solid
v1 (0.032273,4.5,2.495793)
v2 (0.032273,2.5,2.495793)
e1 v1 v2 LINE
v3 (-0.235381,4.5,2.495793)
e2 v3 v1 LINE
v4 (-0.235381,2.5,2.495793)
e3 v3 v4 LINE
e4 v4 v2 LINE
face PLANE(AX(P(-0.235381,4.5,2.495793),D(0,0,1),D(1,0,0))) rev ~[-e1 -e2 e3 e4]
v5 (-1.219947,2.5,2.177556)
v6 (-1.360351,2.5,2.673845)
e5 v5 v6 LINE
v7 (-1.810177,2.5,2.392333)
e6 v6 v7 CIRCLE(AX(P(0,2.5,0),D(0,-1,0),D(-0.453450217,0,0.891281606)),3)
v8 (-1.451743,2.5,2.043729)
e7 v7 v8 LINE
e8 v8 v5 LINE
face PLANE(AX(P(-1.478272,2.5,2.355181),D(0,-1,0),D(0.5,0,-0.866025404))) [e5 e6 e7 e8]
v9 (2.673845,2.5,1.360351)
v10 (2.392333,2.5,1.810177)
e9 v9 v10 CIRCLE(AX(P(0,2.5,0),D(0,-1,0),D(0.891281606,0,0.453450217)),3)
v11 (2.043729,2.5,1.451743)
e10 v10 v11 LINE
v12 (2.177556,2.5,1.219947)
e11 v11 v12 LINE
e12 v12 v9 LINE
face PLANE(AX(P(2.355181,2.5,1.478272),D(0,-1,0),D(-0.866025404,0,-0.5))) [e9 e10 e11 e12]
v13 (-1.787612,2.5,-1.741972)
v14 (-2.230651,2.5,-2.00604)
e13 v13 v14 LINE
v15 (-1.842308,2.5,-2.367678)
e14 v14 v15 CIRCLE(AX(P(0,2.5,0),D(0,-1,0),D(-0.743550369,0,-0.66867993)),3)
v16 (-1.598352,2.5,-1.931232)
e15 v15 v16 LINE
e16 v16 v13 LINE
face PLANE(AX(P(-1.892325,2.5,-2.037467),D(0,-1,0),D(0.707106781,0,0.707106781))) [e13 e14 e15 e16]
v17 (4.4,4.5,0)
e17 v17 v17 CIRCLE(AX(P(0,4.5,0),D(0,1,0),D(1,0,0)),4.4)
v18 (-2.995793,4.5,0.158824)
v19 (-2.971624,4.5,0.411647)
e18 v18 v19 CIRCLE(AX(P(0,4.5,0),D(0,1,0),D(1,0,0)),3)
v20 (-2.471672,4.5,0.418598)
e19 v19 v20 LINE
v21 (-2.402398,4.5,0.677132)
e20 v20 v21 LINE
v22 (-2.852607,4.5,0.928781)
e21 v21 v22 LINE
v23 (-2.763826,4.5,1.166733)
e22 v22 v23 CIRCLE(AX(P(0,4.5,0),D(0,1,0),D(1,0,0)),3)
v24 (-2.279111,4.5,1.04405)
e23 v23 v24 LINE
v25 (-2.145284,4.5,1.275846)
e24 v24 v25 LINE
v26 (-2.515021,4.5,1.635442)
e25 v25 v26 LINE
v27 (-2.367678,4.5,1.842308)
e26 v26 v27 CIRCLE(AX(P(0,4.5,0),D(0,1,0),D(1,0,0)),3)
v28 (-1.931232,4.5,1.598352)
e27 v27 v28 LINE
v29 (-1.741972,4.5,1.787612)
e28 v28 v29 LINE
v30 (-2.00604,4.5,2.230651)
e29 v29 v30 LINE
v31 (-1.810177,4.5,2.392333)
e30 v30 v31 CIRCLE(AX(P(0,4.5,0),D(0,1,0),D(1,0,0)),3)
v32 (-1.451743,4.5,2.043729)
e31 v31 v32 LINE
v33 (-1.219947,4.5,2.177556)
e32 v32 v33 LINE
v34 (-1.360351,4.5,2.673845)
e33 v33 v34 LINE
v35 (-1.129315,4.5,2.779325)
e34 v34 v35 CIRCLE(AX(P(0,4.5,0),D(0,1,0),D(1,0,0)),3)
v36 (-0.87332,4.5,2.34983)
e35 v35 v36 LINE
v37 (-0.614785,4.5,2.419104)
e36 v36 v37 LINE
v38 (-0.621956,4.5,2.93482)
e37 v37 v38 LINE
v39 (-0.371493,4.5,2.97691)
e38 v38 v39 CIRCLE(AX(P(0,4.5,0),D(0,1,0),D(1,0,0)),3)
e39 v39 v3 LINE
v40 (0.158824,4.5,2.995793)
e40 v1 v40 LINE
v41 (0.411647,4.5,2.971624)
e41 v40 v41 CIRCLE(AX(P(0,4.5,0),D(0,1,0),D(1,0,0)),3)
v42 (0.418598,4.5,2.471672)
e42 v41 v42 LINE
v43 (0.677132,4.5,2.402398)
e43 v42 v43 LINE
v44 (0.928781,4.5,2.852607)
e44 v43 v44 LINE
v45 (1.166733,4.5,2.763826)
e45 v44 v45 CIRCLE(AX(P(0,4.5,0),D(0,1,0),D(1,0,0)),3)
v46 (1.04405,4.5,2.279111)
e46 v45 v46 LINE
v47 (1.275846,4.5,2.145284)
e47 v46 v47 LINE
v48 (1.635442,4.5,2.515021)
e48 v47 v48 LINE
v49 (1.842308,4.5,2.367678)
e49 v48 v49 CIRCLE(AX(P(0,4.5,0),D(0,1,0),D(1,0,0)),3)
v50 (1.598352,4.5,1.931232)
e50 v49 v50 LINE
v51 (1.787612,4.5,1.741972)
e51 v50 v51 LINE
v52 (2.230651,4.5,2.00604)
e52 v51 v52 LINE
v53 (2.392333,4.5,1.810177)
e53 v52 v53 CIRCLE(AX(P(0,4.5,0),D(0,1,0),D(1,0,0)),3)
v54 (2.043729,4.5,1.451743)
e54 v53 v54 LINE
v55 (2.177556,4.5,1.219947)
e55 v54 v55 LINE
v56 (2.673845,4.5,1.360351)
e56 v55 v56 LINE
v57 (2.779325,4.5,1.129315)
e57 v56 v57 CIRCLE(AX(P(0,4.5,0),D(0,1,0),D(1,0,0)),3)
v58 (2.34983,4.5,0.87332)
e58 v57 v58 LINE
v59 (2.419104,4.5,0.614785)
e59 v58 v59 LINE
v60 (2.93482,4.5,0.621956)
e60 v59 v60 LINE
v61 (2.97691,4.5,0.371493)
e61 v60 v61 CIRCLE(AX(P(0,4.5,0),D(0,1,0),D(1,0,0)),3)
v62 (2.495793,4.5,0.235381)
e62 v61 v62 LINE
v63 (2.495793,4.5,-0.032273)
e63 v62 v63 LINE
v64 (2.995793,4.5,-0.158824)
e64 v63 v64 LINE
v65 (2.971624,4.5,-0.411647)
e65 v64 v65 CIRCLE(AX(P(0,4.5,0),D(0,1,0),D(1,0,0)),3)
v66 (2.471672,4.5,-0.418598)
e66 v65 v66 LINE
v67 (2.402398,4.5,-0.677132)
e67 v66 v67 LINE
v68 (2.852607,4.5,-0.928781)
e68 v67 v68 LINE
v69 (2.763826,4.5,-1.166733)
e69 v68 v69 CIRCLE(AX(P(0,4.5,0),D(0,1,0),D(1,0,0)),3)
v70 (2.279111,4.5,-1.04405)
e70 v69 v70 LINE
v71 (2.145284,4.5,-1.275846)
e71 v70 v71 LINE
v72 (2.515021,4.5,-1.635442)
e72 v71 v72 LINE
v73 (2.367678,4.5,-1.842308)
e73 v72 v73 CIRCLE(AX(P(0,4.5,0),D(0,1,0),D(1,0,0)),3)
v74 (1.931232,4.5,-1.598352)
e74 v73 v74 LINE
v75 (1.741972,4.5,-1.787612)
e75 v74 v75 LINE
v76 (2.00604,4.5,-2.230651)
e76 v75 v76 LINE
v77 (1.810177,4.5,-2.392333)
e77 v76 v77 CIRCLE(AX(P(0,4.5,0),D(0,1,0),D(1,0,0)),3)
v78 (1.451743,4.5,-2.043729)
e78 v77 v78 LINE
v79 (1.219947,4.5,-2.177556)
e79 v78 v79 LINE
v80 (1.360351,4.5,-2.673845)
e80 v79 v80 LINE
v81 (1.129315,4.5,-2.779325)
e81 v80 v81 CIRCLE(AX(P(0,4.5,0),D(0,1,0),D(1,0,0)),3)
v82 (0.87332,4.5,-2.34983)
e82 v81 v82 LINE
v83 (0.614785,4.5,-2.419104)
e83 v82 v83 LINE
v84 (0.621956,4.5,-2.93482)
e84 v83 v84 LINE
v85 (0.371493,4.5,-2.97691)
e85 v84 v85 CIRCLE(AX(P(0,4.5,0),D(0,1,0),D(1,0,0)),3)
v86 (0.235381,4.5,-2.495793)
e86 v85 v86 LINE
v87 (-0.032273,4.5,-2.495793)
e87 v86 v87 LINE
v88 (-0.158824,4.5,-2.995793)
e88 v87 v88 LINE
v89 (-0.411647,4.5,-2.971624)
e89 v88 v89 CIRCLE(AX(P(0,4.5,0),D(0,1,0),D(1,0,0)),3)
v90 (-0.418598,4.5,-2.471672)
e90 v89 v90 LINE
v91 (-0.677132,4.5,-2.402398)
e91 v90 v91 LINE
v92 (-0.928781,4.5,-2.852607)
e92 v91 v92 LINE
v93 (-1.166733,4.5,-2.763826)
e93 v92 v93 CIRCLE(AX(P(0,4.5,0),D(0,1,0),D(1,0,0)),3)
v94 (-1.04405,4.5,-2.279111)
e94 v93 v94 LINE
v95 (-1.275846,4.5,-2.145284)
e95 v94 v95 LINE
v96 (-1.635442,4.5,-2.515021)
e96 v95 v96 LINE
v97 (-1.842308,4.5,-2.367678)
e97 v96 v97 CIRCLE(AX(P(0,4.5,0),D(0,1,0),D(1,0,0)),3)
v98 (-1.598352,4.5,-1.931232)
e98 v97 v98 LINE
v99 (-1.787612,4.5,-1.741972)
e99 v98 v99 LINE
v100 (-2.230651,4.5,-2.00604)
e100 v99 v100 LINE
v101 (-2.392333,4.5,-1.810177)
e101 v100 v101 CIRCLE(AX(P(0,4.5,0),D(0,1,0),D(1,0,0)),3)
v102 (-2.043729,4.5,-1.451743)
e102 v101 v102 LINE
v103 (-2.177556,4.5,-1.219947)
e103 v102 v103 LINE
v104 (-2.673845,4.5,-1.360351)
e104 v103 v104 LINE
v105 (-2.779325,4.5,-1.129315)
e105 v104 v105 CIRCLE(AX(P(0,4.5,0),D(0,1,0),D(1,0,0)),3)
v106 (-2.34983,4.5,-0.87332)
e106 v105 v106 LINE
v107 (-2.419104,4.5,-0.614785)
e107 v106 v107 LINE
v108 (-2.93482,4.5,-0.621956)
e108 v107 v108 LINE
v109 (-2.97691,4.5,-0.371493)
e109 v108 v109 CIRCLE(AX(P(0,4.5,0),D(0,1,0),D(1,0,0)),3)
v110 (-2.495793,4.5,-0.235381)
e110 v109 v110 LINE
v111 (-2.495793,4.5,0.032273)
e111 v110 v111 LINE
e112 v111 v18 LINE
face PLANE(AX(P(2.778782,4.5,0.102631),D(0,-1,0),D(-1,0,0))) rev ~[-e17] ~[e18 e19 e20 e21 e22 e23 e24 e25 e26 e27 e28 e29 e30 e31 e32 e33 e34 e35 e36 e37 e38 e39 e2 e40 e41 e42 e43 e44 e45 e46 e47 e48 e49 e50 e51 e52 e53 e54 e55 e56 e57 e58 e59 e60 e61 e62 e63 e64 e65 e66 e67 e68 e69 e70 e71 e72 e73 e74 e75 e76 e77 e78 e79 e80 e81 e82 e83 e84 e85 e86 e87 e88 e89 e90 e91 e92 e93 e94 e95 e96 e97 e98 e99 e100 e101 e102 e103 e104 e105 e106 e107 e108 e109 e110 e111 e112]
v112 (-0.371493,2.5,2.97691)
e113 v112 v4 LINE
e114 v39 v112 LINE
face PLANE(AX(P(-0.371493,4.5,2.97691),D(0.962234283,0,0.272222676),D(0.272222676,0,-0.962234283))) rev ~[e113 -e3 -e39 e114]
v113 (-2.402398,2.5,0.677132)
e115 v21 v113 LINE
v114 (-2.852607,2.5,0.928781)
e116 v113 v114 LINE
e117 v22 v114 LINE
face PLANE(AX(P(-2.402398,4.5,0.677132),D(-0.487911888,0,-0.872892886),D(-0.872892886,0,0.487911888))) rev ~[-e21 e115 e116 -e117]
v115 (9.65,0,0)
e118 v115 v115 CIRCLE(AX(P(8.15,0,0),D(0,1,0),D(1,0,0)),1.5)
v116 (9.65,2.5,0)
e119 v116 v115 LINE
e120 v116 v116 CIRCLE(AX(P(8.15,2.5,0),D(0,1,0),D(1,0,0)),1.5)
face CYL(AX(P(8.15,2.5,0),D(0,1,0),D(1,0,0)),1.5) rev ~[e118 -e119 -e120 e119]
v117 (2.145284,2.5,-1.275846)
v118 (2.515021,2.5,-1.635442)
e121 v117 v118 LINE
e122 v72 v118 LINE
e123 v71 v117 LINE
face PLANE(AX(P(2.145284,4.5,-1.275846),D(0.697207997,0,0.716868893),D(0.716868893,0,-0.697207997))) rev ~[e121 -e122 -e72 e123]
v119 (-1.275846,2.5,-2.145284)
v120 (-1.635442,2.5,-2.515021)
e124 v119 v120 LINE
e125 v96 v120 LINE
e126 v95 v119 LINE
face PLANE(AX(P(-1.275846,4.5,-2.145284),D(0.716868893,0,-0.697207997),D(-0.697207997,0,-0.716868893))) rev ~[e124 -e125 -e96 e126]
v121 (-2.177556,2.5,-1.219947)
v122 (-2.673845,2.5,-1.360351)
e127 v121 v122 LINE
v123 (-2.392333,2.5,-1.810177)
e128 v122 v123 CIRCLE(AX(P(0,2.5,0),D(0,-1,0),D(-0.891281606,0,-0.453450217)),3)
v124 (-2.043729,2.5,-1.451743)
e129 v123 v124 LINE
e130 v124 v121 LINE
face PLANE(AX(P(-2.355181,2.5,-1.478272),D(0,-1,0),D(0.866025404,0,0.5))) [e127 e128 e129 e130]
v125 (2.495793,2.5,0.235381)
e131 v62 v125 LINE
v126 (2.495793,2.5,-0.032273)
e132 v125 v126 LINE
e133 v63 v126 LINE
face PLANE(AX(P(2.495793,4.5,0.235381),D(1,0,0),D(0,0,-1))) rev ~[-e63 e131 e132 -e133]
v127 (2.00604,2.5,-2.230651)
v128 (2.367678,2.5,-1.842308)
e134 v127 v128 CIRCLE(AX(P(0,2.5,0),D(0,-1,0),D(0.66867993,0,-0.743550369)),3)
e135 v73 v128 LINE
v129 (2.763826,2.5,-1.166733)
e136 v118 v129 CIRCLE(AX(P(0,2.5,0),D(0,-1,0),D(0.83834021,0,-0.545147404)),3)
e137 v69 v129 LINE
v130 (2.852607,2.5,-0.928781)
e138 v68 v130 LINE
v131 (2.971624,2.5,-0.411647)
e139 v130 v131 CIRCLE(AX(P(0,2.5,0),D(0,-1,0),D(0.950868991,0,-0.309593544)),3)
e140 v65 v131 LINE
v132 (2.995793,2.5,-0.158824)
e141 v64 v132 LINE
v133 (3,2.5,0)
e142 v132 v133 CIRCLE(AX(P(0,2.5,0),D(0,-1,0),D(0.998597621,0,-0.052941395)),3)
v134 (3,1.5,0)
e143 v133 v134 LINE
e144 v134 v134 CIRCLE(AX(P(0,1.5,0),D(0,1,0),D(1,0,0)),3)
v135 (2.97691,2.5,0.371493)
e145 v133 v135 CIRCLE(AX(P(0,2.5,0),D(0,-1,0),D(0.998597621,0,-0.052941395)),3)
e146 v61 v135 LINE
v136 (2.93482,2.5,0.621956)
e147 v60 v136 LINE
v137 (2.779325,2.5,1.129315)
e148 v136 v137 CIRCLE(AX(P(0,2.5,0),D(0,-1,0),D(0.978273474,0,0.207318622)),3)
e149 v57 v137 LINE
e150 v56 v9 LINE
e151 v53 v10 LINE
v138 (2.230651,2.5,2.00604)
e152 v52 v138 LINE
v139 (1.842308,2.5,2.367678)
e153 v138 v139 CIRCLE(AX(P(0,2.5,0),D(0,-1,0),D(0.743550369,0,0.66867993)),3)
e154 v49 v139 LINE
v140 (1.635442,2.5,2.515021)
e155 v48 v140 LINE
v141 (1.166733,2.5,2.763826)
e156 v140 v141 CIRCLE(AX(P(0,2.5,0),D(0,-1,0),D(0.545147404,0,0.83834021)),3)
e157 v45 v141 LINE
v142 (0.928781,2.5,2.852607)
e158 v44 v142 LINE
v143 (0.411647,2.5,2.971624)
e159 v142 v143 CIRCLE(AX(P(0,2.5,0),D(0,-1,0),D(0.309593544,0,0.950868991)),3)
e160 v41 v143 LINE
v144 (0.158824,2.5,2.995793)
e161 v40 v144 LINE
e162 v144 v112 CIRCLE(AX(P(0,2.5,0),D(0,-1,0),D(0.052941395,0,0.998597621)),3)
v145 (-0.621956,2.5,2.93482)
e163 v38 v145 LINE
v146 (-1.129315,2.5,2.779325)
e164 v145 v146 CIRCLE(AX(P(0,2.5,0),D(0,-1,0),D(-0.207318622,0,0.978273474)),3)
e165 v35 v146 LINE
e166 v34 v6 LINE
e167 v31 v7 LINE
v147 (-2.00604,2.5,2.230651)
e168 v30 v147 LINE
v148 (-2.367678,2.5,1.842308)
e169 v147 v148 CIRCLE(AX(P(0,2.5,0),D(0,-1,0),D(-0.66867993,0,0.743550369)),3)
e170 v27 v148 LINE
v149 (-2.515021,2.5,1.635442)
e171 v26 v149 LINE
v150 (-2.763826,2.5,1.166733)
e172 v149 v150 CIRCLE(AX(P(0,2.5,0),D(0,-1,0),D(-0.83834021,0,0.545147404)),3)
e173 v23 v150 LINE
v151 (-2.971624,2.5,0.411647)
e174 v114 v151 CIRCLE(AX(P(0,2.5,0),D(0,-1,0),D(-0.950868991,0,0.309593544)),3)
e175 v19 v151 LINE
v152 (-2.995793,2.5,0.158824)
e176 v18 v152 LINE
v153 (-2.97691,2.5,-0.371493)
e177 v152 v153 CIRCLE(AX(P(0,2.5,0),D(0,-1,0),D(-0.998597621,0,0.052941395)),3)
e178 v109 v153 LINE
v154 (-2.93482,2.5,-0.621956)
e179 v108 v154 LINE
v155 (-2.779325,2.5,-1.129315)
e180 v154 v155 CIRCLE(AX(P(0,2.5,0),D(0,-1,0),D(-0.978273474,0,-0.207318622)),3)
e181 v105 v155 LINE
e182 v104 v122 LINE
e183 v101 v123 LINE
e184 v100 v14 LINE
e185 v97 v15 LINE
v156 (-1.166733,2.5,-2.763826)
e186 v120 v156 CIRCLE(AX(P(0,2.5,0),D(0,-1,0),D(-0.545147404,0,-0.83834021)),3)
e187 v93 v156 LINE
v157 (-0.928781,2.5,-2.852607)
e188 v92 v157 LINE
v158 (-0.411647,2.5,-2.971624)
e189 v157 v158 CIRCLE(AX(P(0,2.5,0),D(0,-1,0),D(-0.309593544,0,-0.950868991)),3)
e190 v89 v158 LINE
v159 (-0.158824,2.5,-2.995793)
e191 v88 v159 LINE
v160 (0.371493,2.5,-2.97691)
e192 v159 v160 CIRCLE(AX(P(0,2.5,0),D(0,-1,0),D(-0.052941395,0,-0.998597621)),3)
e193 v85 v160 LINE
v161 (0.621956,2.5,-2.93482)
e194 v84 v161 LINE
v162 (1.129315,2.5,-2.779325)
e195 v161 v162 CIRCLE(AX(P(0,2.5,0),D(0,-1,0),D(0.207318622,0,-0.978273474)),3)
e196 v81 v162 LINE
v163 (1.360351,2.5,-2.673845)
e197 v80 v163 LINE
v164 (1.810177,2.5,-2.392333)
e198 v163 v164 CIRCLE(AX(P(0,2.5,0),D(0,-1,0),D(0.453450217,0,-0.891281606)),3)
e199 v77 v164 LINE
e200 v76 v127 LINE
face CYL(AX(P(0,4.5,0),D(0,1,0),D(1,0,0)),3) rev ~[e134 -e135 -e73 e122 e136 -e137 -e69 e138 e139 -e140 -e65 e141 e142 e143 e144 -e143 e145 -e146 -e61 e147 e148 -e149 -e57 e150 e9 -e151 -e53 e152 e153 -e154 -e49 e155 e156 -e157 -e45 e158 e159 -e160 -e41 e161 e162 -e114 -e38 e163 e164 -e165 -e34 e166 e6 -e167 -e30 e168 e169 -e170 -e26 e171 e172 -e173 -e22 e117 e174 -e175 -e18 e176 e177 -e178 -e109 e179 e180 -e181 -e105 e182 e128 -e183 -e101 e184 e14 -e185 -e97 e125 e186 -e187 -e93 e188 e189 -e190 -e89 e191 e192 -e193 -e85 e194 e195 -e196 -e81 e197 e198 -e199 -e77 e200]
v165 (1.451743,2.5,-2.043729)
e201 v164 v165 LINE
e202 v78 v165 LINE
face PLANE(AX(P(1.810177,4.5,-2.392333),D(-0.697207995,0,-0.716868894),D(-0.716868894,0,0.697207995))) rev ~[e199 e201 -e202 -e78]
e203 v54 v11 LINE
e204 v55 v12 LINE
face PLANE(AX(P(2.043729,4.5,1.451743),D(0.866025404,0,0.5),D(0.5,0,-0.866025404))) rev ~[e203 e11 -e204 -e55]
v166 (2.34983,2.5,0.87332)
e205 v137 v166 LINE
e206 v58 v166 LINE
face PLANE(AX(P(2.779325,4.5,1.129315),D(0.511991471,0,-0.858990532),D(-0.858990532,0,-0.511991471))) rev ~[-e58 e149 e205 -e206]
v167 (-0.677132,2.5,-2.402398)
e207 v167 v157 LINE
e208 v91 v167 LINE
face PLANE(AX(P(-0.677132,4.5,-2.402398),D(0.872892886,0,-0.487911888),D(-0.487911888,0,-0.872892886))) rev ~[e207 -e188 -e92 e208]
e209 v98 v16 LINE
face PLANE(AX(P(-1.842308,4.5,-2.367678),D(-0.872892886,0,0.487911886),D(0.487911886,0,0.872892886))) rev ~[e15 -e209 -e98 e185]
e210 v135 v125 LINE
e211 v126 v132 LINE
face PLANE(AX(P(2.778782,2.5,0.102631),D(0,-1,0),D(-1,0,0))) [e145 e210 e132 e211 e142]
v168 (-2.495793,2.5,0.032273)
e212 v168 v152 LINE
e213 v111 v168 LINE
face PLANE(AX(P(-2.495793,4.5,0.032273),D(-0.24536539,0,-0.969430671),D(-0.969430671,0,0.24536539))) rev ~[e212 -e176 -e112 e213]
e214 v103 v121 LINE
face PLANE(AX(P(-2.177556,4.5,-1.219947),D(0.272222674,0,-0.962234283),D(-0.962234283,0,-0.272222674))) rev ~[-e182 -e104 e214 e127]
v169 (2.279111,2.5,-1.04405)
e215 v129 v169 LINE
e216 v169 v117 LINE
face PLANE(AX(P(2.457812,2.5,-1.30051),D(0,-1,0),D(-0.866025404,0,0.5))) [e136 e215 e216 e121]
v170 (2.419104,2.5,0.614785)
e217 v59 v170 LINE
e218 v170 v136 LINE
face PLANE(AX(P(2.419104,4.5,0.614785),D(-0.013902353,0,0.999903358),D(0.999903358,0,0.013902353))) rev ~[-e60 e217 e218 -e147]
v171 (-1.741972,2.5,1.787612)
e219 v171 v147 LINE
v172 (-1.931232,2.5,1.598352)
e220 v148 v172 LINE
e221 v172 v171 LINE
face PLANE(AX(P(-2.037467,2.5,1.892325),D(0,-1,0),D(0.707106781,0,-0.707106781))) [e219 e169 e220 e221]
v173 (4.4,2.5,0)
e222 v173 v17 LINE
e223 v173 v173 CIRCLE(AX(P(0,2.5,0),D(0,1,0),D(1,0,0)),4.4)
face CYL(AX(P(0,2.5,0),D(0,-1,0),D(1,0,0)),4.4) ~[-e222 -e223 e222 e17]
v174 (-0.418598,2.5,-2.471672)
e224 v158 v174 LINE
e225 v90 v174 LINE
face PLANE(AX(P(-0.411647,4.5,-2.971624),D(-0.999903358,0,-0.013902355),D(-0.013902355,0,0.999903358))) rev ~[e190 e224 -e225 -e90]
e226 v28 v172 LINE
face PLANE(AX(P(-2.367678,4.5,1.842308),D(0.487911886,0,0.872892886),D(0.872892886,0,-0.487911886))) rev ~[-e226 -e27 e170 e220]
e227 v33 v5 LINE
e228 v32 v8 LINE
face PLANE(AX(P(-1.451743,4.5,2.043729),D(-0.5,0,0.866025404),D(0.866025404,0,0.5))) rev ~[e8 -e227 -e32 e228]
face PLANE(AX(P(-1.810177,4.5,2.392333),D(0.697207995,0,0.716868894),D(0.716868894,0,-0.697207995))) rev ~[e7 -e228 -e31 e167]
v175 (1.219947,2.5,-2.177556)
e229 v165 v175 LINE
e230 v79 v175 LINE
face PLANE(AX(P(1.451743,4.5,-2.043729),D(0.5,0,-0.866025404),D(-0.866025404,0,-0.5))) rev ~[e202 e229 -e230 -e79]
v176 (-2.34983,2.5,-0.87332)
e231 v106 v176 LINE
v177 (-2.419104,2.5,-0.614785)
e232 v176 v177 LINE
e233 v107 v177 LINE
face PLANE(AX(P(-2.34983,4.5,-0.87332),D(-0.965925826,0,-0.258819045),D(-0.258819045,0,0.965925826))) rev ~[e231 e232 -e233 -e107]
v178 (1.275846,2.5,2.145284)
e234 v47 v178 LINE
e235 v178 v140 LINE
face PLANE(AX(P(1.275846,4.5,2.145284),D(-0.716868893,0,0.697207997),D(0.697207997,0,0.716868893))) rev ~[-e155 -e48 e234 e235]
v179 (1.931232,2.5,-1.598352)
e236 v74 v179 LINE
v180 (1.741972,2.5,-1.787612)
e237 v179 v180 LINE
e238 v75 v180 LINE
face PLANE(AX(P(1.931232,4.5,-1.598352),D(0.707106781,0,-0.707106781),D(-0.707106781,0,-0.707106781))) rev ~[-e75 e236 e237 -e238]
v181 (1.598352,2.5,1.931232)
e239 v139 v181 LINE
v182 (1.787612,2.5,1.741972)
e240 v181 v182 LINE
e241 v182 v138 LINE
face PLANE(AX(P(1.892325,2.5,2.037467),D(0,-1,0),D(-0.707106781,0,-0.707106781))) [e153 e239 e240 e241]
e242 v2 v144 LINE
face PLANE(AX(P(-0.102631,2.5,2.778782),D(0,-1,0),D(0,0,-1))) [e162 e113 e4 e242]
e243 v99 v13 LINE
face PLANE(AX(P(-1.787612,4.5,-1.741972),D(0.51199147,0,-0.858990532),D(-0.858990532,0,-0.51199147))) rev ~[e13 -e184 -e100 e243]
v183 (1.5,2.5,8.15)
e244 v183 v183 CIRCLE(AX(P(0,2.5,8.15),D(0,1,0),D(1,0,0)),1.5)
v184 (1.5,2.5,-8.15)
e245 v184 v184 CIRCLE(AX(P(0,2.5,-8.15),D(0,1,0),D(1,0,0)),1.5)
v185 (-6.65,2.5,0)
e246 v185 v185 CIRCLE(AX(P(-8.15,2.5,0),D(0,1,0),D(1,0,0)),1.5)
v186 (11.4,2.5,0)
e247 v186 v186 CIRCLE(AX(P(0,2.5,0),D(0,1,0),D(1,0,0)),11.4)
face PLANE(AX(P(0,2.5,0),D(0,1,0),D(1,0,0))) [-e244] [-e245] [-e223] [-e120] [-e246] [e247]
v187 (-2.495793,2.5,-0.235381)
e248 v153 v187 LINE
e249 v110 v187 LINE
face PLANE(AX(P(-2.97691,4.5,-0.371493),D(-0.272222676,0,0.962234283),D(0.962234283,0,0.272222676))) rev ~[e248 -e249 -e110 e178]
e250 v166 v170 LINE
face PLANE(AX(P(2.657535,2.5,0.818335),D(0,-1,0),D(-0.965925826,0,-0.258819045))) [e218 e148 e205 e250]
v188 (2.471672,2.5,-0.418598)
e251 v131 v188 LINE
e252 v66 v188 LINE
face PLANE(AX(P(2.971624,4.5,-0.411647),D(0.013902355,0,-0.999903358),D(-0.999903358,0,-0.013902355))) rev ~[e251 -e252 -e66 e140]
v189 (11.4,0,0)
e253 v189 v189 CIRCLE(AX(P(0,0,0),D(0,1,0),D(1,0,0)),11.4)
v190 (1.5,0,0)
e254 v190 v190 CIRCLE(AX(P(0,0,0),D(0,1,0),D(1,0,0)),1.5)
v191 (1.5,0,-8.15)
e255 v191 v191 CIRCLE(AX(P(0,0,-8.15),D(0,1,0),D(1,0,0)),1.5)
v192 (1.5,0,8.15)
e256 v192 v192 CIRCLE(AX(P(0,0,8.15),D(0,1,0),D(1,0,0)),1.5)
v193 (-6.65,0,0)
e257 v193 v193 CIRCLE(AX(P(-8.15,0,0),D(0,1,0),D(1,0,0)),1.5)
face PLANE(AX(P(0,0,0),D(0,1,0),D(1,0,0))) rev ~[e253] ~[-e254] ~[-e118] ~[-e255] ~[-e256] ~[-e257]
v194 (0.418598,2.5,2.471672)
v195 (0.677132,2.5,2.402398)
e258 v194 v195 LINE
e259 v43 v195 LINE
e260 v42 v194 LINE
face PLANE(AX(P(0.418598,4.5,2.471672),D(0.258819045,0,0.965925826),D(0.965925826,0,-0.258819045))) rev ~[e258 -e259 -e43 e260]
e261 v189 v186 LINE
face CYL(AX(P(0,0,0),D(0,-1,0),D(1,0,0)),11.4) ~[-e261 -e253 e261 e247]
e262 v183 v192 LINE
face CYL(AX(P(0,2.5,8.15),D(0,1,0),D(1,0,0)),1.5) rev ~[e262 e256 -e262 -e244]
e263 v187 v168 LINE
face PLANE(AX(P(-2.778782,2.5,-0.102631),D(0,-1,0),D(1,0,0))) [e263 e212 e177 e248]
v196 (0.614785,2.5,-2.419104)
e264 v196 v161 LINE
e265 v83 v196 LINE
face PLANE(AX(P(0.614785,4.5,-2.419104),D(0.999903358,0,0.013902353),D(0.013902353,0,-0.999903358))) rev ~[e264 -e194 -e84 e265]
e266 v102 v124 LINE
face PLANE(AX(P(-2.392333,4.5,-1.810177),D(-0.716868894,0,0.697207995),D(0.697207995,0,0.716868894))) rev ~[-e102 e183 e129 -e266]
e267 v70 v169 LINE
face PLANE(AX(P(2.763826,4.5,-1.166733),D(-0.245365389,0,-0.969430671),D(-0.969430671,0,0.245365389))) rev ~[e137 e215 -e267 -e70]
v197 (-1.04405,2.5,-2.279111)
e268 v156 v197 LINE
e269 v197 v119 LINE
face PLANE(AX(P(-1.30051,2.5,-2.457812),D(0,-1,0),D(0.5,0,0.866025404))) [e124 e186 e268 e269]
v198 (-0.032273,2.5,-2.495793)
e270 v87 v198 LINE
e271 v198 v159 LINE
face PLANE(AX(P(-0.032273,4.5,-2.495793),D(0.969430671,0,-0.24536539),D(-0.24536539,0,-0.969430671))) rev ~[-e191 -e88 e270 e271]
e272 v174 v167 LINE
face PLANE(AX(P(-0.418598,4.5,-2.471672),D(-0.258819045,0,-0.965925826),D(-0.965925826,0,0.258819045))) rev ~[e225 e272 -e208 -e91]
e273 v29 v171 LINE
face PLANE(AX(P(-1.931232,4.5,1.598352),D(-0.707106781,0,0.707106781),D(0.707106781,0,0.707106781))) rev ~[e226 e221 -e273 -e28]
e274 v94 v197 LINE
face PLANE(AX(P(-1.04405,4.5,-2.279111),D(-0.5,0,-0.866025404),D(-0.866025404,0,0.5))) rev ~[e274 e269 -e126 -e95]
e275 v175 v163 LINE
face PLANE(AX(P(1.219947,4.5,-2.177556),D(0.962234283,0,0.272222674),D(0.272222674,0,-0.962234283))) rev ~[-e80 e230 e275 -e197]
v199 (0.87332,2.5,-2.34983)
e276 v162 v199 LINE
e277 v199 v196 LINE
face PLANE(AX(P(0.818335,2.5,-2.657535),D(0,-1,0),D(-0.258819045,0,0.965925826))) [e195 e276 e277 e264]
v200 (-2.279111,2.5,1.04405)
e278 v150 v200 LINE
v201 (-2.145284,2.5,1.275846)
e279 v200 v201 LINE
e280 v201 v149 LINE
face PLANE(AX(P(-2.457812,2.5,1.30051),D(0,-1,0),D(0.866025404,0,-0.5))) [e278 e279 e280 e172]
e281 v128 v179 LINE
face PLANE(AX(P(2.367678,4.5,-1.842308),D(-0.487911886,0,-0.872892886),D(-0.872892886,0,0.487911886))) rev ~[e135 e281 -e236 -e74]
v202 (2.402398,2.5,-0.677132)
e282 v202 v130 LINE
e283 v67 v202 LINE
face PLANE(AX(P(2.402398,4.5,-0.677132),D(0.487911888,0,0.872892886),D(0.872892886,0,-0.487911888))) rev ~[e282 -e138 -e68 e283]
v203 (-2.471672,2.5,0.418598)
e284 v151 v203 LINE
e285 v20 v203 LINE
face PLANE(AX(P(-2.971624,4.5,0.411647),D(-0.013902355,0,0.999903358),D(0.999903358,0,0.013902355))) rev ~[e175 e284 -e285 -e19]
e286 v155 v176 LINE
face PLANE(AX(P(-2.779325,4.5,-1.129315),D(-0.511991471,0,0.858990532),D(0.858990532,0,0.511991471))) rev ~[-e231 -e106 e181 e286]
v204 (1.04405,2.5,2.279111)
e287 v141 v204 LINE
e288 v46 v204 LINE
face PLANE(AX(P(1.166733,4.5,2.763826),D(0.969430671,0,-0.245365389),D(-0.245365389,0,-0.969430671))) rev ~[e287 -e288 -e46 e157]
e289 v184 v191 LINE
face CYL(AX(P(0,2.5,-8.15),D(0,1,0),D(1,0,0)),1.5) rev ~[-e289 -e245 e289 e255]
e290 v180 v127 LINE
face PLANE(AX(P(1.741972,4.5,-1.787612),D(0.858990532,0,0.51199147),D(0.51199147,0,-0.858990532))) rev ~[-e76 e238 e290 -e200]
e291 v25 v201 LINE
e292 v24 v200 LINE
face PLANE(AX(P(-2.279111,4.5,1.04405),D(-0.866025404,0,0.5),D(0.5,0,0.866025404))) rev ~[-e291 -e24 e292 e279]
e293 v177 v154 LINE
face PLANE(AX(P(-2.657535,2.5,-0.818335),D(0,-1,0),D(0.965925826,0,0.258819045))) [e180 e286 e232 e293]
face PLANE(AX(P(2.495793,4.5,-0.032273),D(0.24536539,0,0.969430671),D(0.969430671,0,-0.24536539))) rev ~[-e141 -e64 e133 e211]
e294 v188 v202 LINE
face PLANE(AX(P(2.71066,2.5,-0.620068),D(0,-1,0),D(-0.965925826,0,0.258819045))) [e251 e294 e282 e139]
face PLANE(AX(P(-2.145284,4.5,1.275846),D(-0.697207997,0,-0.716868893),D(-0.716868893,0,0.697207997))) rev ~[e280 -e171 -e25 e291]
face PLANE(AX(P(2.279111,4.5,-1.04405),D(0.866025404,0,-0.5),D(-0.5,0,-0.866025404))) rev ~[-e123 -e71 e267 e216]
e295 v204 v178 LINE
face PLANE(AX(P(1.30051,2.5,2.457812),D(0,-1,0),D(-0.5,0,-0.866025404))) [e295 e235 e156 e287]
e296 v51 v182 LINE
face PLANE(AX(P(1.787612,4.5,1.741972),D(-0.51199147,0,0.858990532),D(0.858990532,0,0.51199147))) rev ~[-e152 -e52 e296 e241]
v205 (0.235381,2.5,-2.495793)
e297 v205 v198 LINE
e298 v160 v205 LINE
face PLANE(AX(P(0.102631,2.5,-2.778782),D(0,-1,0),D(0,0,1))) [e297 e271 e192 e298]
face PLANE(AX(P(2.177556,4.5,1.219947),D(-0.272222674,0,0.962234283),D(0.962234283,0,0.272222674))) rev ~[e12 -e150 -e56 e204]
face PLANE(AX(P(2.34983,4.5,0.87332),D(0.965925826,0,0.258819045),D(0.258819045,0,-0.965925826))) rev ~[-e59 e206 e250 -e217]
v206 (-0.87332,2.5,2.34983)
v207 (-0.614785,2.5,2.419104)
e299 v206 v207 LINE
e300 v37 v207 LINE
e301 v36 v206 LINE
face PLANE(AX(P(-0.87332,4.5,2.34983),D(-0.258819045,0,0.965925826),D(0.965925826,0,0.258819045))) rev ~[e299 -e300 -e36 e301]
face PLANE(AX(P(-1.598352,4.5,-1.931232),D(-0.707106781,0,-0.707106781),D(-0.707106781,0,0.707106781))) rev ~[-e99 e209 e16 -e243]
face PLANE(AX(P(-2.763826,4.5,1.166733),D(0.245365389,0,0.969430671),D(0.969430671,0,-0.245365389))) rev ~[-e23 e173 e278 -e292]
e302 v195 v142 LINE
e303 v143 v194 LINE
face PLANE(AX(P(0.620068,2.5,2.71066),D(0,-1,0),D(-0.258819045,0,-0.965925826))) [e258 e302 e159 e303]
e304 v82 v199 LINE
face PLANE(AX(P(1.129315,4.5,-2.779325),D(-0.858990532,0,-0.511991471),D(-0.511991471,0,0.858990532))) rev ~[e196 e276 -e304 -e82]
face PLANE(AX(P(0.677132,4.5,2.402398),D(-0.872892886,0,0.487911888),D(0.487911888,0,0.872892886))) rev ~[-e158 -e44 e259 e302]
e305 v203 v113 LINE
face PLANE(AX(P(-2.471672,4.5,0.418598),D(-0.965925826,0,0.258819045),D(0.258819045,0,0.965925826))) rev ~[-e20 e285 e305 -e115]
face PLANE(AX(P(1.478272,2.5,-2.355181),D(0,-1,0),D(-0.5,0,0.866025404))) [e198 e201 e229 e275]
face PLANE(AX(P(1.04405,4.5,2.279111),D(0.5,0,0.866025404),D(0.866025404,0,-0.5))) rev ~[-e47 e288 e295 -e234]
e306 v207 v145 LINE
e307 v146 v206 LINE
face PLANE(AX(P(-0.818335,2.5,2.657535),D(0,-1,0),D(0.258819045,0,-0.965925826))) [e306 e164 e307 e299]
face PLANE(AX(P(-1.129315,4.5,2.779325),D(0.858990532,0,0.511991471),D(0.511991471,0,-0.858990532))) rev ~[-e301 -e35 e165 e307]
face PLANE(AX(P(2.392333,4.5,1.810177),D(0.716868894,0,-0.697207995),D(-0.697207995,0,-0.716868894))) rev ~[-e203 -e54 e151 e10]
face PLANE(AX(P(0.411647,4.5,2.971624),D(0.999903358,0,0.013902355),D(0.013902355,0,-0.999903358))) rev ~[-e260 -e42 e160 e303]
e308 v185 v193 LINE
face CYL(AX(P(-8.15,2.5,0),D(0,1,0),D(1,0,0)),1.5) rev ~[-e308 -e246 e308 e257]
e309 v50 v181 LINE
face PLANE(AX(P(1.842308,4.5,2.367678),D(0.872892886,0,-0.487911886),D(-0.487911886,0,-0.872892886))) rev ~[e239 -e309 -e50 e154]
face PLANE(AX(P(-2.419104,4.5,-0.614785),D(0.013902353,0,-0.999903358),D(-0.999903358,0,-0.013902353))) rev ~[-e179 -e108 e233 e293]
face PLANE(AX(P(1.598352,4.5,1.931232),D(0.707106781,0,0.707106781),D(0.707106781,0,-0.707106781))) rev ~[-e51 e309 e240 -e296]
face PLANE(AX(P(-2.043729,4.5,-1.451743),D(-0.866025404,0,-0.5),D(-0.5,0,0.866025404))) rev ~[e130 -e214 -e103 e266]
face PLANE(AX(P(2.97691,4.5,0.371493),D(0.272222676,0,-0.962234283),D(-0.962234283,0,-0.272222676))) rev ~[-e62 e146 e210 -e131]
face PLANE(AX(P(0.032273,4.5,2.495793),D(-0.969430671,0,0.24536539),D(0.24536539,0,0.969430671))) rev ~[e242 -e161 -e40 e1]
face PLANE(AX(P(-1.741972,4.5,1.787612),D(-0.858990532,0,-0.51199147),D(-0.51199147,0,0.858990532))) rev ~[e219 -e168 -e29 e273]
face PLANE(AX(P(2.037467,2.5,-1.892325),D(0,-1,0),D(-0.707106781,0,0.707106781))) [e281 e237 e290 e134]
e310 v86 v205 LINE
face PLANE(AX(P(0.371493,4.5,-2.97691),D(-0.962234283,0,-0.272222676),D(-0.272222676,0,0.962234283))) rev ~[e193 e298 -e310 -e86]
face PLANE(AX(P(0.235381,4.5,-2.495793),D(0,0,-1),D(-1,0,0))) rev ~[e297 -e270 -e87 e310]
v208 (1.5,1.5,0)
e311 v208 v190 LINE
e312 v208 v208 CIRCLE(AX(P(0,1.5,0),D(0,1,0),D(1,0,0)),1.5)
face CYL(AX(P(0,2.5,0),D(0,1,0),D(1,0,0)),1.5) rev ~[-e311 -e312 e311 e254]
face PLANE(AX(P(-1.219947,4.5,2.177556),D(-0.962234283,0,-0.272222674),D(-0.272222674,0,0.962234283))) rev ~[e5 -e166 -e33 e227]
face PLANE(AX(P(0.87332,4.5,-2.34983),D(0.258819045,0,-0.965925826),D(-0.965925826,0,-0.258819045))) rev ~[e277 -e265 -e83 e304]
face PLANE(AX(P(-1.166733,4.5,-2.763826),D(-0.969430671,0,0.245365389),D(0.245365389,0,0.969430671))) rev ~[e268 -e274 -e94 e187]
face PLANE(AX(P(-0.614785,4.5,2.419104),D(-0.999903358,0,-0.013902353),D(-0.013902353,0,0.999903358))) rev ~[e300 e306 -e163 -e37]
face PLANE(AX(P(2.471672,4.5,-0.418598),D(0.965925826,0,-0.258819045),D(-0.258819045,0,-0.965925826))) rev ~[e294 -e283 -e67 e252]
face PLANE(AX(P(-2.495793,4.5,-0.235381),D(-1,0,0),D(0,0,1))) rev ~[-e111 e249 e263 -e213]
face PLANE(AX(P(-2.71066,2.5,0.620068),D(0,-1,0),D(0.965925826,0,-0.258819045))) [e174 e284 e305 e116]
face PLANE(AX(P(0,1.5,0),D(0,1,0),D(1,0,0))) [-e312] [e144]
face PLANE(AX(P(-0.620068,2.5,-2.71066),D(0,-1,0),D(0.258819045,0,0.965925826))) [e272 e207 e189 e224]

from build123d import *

# Parameters (mm, degrees)
SKETCH_4_R               = 11.4
EXTRUDE_2_DEPTH          = 2.5
SKETCH_6_R               = 1.5
CUT_EXTRUDE_9_DEPTH      = 2.5
SKETCH_7_R               = 4.4
EXTRUDE_3_DEPTH          = 2
SKETCH_8_R               = 3
CUT_EXTRUDE_10_DEPTH     = 3
EXTRUDE_5_DEPTH          = 2
PATTERN_CIRCULAR_1_COUNT = 24


with BuildPart() as part:
    # 草图4 → 凸台-拉伸2 (new body)
    with BuildSketch(Plane(origin=(0, 0, 0), x_dir=(1, 0, 0), z_dir=(0, 1, 0))):
        Circle(SKETCH_4_R)
    extrude(amount=EXTRUDE_2_DEPTH)

    # 草图6 → 切除-拉伸9 (cut)
    with BuildSketch(Plane(origin=(0, 2.5, 0), x_dir=(1, 0, 0), z_dir=(0, 1, 0))):
        with Locations((0, 8.15)):
            Circle(SKETCH_6_R)
        Circle(SKETCH_6_R)
        with Locations((8.15, 0)):
            Circle(SKETCH_6_R)
        with Locations((-8.15, 0)):
            Circle(SKETCH_6_R)
        with Locations((0, -8.15)):
            Circle(SKETCH_6_R)
    extrude(amount=-CUT_EXTRUDE_9_DEPTH, mode=Mode.SUBTRACT)

    # 草图7 → 凸台-拉伸3 (add)
    with BuildSketch(Plane(origin=(0, 2.5, 0), x_dir=(1, 0, 0), z_dir=(0, 1, 0))):
        Circle(SKETCH_7_R)
    extrude(amount=EXTRUDE_3_DEPTH)

    # 草图8 → 切除-拉伸10 (cut)
    with BuildSketch(Plane(origin=(0, 4.5, 0), x_dir=(1, 0, 0), z_dir=(0, 1, 0))):
        Circle(SKETCH_8_R)
    extrude(amount=-CUT_EXTRUDE_10_DEPTH, mode=Mode.SUBTRACT)

    # 草图14 → 凸台-拉伸5 (add)
    with BuildSketch(Plane(origin=(0, 4.5, 0), x_dir=(1, 0, 0), z_dir=(0, 1, 0))):
        with BuildLine():
            Line((2.976910005, -0.371492698), (2.495792863, -0.23538136))
            Line((2.495792863, -0.23538136), (2.495792863, 0.032272898))
            Line((2.495792863, 0.032272898), (2.995792863, 0.158824181))
            ThreePointArc((2.995792863, 0.158824181), (2.998100046, -0.106752588), (2.976910005, -0.371492698))
        make_face()
    extrude_5 = extrude(amount=-EXTRUDE_5_DEPTH)

    # 阵列(圆周)1: 凸台-拉伸5 ×24 about axis
    pattern_circular_1_axis = Axis((0, 4.5, 0), (0, 1, 0))
    for i in range(1, PATTERN_CIRCULAR_1_COUNT):
        add(extrude_5.rotate(pattern_circular_1_axis, i * 360 / PATTERN_CIRCULAR_1_COUNT))


solid = part.part
